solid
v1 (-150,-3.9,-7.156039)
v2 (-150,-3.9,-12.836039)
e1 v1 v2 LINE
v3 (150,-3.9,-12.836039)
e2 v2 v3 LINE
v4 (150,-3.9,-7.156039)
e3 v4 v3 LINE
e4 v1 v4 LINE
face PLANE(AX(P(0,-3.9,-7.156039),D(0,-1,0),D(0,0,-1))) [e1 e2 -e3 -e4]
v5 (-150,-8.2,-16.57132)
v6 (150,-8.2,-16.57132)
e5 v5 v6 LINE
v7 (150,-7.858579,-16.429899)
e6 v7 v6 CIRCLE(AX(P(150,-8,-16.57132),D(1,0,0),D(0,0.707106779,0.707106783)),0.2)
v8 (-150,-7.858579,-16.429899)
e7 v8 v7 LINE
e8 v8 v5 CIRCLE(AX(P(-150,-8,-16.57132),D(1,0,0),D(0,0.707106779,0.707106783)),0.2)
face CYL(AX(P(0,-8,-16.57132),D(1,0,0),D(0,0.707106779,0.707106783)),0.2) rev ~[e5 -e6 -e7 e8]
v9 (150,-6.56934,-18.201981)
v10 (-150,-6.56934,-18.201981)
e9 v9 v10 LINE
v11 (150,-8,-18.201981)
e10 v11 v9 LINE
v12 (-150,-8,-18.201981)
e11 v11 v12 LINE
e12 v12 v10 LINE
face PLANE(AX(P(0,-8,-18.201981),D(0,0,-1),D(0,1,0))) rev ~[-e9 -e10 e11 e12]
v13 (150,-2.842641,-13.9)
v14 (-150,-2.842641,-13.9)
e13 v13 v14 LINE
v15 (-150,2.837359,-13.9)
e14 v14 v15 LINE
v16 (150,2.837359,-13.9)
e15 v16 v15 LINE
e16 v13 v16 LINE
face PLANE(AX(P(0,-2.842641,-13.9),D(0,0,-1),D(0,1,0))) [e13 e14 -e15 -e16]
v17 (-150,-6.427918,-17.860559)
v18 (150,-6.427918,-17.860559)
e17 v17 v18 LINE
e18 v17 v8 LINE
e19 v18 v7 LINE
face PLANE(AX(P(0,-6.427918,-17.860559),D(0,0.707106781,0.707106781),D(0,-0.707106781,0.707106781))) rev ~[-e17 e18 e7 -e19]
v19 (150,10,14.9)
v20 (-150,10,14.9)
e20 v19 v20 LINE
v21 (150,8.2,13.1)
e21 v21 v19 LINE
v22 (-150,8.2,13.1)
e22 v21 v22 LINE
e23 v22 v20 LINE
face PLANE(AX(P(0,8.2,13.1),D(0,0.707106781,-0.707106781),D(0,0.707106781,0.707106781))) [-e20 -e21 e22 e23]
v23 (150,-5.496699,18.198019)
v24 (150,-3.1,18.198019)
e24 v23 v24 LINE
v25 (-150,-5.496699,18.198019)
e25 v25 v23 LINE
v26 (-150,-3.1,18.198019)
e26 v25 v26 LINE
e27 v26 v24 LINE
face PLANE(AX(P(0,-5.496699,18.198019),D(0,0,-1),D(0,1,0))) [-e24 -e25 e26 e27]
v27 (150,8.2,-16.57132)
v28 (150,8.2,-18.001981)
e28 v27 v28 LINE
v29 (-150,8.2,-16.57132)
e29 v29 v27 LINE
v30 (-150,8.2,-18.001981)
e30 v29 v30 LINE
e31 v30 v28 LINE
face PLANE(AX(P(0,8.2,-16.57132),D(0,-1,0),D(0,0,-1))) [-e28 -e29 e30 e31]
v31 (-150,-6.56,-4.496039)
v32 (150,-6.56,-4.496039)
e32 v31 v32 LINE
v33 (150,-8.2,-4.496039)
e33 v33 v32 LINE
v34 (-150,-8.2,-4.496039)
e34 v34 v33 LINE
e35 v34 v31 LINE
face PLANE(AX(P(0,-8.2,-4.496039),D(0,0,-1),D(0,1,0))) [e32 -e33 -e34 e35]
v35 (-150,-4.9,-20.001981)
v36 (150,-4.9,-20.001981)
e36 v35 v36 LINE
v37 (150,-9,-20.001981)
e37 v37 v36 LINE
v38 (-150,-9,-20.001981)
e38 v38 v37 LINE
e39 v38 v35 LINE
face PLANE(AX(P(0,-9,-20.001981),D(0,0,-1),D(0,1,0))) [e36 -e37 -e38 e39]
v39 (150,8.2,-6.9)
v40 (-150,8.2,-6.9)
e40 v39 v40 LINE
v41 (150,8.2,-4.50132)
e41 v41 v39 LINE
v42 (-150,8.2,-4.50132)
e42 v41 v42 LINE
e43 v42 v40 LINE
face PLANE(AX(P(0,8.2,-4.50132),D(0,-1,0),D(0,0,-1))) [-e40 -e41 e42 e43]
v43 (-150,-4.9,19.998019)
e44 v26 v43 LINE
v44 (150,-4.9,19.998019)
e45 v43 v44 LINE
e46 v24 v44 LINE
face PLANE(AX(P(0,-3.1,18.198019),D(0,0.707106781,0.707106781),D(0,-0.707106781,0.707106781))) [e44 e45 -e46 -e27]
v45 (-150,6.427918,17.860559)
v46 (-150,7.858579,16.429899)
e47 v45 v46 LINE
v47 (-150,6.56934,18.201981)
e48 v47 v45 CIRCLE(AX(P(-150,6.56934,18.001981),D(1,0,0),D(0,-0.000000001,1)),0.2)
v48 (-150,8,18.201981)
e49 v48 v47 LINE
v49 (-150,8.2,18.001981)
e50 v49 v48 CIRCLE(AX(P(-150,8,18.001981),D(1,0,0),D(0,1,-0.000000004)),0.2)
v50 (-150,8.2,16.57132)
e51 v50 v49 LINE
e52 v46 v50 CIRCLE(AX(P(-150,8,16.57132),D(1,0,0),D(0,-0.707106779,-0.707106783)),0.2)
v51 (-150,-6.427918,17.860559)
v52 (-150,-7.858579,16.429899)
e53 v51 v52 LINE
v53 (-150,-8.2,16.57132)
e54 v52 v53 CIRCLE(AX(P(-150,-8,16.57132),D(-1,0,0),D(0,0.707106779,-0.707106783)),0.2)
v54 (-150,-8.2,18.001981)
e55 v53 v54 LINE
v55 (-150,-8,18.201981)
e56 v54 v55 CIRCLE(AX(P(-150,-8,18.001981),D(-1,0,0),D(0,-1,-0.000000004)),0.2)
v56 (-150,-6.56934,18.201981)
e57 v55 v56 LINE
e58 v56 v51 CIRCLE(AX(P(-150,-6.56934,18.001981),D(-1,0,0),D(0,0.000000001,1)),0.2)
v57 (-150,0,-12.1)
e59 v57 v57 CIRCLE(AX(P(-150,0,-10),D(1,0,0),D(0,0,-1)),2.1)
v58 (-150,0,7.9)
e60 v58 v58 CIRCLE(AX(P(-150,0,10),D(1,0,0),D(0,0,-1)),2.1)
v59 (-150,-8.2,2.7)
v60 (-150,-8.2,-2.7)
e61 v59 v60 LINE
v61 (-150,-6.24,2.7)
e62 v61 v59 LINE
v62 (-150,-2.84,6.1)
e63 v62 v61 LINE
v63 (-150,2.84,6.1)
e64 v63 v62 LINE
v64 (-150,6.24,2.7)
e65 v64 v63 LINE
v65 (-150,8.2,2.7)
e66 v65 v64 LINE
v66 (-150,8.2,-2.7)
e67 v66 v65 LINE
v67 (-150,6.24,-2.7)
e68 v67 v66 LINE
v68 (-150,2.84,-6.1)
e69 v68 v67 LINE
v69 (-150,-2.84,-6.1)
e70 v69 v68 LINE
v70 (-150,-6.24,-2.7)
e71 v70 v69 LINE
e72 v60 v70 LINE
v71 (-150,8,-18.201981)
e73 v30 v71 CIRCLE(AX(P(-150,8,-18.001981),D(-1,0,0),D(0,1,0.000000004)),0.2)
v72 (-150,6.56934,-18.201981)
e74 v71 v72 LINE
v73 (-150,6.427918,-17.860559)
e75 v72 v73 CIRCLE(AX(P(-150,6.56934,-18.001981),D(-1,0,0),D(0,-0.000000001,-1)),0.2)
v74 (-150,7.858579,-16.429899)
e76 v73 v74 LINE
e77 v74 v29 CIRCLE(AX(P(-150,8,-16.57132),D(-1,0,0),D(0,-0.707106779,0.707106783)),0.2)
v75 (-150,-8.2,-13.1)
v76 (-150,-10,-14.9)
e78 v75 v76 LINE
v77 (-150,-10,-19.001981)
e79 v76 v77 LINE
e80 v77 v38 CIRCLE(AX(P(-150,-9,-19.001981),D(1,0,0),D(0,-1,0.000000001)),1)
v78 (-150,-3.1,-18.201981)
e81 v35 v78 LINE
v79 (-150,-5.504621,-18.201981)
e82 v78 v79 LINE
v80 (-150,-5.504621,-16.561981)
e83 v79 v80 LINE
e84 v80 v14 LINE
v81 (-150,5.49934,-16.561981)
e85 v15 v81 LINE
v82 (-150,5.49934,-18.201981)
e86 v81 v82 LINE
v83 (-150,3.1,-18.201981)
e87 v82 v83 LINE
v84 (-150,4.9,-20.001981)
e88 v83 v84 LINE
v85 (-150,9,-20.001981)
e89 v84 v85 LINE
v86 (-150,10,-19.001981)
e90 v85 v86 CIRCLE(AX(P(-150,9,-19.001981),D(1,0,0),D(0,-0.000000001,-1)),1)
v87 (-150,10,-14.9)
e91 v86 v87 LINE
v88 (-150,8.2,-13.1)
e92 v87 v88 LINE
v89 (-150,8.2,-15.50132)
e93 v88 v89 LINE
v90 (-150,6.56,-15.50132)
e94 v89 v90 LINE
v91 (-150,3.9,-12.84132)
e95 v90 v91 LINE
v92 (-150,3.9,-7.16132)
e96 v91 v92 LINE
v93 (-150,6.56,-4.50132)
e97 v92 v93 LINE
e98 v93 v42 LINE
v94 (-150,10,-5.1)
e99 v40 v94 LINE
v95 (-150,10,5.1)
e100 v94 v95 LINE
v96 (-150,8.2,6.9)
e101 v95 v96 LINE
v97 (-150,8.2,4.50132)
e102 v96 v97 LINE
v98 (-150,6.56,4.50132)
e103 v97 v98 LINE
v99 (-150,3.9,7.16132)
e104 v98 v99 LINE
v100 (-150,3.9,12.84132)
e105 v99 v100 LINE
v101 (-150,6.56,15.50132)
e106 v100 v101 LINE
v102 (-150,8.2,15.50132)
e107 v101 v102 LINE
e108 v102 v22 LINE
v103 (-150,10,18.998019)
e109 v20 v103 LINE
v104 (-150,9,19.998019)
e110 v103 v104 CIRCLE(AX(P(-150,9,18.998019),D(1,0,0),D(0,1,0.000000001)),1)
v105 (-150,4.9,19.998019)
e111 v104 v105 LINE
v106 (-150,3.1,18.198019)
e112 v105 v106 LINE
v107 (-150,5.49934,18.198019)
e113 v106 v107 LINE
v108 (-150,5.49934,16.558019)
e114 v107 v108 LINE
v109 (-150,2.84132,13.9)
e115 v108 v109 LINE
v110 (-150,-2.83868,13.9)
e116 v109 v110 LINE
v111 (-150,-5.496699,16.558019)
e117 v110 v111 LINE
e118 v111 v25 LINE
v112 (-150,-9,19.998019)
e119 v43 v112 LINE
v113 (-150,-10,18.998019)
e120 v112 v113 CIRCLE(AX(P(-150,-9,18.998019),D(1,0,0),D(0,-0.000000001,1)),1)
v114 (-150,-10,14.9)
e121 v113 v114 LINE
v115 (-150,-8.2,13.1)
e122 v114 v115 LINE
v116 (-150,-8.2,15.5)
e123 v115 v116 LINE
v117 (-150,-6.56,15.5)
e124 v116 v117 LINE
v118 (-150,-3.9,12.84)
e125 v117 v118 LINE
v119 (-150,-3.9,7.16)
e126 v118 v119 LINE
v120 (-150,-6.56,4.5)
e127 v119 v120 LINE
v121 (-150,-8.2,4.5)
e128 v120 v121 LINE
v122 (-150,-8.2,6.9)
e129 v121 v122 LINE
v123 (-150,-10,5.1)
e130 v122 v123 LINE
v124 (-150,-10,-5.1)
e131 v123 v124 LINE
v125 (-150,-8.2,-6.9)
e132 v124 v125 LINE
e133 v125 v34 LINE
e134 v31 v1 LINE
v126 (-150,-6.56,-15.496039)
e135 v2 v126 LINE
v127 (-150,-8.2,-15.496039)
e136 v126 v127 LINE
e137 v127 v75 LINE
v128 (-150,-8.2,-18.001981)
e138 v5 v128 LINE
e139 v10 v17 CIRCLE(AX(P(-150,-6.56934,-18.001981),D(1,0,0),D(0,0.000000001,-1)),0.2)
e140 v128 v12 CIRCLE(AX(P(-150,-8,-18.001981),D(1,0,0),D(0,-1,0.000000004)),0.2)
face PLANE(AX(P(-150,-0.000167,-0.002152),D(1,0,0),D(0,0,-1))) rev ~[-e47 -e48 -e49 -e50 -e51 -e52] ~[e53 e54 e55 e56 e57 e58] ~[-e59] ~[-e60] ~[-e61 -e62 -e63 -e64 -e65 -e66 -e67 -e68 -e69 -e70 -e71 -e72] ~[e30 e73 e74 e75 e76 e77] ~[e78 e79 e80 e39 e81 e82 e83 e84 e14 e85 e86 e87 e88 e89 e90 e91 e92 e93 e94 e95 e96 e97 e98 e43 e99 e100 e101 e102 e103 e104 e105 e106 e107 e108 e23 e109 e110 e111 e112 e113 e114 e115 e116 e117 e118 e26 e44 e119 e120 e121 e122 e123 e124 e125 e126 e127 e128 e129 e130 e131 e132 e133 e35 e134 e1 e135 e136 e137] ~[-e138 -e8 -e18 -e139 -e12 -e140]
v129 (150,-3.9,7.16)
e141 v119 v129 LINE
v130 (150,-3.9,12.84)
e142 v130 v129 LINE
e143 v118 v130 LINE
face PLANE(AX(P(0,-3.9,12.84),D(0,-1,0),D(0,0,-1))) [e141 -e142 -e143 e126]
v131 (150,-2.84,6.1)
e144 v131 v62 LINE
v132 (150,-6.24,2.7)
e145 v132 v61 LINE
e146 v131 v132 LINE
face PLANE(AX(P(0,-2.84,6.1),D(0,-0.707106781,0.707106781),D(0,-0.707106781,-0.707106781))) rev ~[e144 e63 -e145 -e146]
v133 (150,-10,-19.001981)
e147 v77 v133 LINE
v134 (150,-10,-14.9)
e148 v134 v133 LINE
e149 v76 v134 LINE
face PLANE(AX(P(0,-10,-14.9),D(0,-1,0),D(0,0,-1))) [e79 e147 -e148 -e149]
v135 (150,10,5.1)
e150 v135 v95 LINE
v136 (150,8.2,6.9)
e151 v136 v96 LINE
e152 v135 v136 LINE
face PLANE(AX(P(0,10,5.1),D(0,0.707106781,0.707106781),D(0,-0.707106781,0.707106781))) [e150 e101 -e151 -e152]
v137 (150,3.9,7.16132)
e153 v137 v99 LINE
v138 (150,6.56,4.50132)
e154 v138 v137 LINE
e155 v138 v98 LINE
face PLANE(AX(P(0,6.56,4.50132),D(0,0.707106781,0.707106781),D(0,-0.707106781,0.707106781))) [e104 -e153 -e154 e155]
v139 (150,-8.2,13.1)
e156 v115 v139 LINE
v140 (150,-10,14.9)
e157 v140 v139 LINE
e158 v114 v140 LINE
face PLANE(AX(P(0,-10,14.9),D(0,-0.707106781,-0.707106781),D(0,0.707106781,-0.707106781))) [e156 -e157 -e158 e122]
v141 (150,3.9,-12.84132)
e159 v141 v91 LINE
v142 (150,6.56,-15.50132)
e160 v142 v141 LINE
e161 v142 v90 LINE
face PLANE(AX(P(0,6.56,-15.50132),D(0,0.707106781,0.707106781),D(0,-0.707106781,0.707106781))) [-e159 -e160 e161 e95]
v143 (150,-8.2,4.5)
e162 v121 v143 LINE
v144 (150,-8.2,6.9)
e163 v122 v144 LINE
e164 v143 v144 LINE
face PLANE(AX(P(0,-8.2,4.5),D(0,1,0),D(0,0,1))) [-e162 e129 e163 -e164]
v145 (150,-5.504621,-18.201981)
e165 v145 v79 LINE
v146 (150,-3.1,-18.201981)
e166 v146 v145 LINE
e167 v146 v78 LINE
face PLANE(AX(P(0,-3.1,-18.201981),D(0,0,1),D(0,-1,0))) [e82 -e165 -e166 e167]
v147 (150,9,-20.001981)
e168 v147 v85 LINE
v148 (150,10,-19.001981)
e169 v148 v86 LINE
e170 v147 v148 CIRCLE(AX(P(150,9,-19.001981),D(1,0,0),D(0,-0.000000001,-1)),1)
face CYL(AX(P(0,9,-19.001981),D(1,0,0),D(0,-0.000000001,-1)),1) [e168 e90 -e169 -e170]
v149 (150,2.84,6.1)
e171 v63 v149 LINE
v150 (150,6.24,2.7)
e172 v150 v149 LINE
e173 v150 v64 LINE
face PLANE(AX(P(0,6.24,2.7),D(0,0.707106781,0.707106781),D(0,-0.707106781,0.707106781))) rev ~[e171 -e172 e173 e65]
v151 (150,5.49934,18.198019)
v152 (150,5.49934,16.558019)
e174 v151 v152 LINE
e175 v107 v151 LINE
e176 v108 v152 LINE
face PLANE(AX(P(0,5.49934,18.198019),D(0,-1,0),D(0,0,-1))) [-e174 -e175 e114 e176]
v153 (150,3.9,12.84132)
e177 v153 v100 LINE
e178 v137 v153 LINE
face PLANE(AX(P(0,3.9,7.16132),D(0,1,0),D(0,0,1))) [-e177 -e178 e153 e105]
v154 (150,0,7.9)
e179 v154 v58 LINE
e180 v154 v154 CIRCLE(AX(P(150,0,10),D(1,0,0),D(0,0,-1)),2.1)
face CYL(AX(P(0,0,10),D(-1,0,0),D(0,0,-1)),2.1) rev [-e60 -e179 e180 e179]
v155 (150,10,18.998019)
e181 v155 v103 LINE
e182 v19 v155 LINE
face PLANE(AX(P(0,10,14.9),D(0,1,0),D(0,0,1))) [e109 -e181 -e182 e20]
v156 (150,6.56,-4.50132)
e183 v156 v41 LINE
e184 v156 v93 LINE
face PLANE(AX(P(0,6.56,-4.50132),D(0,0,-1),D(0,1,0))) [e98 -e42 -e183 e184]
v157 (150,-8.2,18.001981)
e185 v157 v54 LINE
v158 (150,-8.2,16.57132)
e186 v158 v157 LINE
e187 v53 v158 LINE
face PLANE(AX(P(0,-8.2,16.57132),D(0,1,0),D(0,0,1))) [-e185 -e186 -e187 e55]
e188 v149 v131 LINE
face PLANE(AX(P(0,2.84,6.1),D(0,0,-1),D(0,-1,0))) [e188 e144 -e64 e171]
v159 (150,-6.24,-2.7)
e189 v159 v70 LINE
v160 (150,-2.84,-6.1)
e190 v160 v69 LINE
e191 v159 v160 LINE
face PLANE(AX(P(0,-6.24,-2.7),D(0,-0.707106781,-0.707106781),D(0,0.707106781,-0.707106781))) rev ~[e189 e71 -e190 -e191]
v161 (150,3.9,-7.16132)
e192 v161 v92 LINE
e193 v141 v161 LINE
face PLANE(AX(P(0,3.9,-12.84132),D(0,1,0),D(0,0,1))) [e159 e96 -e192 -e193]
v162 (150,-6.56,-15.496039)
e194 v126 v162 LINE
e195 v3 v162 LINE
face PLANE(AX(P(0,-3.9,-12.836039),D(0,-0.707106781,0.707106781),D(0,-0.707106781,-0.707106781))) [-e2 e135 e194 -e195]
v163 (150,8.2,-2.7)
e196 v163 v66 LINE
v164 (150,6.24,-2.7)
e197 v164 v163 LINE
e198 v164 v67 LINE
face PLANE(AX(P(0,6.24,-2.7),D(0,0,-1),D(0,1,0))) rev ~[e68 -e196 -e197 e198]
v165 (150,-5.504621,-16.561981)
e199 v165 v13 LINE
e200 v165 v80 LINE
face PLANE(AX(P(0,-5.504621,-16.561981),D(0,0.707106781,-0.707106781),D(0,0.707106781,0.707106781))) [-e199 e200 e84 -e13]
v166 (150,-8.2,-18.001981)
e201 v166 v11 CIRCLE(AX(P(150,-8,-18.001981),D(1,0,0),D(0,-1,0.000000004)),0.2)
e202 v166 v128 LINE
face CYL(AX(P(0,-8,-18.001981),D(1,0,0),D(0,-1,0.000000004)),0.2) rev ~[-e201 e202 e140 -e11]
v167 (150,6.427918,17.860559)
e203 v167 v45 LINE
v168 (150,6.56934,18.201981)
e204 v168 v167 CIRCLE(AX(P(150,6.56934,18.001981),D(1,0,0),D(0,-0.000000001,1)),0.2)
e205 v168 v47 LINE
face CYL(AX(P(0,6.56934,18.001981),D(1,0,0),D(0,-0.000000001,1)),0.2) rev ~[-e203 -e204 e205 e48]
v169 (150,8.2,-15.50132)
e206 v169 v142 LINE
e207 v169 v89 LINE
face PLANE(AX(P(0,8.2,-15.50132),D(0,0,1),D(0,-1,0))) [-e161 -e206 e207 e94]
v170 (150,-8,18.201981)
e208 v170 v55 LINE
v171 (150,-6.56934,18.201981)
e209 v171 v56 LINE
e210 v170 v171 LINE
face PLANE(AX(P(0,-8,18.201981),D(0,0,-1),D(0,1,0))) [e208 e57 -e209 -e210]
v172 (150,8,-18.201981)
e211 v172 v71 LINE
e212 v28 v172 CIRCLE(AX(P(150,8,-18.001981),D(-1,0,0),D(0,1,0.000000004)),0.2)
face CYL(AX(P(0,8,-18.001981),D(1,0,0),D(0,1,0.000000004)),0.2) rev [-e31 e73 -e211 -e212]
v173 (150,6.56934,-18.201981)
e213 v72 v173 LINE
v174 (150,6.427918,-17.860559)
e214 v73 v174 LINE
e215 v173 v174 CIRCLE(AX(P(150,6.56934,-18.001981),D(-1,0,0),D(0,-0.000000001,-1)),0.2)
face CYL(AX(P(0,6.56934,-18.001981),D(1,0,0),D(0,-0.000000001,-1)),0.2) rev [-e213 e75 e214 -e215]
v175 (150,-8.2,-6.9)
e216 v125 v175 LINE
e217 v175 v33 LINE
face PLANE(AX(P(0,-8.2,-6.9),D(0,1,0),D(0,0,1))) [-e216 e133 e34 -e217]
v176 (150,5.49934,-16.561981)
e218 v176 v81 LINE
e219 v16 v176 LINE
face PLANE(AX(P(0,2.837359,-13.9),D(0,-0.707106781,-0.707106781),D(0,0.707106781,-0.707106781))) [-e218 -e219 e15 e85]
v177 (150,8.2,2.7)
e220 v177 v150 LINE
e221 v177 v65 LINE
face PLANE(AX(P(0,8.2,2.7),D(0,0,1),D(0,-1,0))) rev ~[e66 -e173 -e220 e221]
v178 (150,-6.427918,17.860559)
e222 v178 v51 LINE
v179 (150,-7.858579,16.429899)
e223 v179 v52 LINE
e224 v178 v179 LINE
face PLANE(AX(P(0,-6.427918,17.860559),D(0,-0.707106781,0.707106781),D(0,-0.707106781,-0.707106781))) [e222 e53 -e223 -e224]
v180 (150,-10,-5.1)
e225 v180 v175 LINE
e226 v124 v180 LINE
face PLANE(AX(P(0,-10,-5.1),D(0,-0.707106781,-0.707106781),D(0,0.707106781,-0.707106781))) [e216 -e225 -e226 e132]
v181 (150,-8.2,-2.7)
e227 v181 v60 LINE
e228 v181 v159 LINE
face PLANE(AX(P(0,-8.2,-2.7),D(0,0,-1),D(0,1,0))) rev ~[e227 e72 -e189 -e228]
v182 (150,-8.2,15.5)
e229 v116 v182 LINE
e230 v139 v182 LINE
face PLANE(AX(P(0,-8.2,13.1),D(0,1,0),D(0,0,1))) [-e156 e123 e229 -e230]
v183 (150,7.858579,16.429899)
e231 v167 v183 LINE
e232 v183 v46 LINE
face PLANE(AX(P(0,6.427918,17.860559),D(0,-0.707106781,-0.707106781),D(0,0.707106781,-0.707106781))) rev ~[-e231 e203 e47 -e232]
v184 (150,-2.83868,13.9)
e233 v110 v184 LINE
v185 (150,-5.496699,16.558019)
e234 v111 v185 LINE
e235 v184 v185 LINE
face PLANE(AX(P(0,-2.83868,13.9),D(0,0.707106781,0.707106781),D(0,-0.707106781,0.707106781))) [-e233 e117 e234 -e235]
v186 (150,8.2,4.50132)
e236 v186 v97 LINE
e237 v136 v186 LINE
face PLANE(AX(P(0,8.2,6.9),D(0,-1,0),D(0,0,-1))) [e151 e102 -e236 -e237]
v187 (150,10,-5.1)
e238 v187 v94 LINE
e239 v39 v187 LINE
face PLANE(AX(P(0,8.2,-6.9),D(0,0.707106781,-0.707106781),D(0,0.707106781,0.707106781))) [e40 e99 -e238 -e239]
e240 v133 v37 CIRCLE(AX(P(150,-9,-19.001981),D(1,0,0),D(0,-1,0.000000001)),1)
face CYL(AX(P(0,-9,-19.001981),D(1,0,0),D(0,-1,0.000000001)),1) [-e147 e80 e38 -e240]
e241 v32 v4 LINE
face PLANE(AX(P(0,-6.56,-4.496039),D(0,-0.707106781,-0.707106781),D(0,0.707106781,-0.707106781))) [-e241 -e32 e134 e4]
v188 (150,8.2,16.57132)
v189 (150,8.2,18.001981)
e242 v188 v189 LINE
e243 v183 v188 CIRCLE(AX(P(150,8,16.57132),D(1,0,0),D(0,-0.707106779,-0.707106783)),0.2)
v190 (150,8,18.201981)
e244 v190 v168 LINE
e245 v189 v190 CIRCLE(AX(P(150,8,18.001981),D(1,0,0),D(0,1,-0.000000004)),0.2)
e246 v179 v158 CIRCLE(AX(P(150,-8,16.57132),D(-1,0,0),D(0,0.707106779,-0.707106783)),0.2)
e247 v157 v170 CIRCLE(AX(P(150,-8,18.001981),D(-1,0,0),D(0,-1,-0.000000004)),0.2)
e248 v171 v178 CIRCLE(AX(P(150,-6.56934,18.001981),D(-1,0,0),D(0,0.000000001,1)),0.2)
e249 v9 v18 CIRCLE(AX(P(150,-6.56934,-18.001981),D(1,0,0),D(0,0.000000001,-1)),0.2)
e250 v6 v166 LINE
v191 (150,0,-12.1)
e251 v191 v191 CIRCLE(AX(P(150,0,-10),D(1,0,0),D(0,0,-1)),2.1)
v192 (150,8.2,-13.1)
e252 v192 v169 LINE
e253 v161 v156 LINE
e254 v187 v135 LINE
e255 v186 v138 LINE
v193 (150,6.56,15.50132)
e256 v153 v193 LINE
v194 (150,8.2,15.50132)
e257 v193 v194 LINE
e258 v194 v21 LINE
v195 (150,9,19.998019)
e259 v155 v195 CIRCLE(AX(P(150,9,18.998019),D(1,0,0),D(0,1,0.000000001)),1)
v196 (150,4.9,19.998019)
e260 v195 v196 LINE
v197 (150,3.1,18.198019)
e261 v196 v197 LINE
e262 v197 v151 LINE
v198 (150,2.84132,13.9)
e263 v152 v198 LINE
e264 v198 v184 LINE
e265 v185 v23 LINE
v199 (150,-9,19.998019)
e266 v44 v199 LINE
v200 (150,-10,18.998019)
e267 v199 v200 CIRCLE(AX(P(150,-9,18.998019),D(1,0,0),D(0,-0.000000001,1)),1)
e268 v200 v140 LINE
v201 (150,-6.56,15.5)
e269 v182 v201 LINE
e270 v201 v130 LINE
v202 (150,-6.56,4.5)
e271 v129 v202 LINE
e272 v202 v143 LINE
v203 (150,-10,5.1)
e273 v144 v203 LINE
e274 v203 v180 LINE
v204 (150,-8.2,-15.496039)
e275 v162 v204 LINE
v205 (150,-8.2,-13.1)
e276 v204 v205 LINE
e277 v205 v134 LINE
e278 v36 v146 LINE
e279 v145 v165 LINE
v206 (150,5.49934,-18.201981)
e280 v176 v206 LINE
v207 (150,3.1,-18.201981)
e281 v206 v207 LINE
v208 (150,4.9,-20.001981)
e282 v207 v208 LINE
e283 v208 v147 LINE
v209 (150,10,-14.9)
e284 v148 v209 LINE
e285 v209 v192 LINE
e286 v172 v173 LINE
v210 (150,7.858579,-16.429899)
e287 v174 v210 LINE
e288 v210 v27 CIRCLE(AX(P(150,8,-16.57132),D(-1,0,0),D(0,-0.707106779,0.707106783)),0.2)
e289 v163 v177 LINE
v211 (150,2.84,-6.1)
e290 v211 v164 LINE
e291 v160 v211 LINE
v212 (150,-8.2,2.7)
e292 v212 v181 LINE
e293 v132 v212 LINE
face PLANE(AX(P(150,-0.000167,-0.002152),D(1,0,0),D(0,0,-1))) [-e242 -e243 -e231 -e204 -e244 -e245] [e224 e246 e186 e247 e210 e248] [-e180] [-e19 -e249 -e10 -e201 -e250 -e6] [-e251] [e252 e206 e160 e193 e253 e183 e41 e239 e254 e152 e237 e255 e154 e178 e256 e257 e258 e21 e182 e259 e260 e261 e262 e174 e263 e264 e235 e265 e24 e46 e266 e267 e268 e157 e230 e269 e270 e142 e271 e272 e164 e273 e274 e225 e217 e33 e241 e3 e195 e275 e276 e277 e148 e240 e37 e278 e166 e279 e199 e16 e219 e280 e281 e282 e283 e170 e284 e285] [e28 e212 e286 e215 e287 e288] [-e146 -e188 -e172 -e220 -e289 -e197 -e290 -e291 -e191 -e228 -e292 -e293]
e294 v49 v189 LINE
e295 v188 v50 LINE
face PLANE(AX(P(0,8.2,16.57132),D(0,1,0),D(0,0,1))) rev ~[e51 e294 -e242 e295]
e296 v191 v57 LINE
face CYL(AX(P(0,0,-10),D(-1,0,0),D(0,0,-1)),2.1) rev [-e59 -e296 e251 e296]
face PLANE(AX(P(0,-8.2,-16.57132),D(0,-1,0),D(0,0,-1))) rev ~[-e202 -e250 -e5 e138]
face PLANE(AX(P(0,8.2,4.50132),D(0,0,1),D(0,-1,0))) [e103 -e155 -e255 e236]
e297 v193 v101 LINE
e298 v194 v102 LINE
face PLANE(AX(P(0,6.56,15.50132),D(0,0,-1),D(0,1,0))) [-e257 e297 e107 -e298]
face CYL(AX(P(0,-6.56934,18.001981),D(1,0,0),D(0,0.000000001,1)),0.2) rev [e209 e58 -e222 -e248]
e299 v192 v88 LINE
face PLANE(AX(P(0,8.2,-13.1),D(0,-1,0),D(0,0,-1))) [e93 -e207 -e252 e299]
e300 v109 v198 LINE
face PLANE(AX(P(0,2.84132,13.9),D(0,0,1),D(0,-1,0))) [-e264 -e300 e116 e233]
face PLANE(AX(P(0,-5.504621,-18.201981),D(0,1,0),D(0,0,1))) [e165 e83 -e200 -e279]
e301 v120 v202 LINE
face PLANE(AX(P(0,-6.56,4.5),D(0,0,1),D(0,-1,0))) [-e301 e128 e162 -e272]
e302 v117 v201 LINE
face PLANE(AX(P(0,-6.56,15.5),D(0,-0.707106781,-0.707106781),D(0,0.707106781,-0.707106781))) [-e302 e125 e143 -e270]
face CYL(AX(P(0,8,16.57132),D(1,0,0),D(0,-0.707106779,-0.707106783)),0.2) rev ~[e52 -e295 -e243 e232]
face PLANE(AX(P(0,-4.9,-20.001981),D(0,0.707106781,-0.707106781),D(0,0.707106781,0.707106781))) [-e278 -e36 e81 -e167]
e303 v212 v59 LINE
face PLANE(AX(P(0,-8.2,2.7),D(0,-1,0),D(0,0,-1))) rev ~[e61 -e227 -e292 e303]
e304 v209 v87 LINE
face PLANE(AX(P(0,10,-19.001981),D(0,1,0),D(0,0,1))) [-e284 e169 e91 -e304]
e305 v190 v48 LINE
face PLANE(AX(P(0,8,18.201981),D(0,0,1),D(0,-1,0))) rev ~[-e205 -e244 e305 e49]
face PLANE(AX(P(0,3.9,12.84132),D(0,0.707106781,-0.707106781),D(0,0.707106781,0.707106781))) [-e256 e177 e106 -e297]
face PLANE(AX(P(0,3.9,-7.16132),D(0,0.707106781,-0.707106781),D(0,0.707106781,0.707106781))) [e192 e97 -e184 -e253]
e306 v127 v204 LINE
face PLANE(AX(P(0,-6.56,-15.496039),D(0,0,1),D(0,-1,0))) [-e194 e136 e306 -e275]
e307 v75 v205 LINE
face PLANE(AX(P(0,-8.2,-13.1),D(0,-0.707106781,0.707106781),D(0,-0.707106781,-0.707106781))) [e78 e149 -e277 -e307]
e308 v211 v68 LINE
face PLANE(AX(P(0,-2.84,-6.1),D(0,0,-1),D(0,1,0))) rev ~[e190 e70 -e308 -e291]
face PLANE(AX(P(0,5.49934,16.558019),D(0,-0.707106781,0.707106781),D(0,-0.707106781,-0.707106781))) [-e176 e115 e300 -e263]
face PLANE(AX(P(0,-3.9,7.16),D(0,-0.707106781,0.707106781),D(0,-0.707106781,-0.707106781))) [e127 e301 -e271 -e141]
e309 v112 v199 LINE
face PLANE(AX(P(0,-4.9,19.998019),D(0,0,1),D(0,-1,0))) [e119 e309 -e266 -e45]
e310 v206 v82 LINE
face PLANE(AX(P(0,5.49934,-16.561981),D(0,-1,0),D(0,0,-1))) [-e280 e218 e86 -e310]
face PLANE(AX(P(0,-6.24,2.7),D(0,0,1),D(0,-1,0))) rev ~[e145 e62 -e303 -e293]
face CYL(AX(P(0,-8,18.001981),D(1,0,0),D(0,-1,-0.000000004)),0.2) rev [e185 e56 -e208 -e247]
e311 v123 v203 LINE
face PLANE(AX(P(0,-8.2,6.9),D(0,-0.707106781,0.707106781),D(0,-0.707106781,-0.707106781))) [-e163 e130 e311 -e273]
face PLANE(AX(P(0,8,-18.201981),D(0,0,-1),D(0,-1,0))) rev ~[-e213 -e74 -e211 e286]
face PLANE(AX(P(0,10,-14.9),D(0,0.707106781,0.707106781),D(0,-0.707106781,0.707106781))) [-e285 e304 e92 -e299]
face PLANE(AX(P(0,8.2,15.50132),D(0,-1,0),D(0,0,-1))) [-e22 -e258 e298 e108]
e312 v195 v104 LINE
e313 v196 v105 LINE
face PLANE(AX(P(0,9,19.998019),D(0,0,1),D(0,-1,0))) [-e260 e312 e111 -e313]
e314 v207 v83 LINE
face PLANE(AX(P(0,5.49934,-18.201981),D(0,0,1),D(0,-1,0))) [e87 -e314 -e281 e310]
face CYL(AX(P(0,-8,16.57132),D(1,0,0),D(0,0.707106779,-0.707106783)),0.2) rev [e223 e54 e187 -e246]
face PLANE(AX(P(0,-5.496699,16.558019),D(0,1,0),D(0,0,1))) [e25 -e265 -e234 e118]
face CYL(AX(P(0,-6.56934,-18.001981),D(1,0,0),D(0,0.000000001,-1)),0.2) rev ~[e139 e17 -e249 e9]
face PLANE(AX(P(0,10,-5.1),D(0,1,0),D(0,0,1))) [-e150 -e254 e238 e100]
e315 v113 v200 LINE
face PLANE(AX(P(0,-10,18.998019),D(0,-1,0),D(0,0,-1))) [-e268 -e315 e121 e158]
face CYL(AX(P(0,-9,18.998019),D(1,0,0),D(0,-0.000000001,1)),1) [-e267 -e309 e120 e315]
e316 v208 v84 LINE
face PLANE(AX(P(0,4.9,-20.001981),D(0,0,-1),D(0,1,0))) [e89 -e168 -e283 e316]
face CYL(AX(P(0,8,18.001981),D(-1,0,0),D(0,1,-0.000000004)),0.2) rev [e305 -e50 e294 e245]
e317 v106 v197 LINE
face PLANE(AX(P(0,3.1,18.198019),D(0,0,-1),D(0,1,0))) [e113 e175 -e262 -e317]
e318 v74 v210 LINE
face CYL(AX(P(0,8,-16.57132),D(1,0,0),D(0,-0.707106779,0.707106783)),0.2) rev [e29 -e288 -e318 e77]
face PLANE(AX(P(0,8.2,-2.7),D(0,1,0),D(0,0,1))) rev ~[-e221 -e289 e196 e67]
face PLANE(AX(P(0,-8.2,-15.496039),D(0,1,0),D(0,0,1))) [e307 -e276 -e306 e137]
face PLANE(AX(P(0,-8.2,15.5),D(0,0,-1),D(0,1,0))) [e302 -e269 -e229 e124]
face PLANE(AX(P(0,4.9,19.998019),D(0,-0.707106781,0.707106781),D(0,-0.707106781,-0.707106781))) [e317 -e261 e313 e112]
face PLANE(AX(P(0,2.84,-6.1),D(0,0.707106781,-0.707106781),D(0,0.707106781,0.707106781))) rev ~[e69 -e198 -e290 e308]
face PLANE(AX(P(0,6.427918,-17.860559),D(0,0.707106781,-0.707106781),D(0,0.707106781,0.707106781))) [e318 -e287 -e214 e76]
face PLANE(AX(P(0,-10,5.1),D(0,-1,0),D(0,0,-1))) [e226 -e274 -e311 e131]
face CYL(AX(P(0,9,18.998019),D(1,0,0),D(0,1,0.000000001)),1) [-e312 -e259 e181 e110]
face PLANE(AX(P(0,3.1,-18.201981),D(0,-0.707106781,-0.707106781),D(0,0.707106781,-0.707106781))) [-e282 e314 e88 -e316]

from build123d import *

# Parameters (mm, degrees)
SKETCH5_R           = 2.1
BOSS_EXTRUDE1_DEPTH = 150


with BuildPart() as part:
    # Sketch5 → Boss-Extrude1 (new body, symmetric)
    with BuildSketch(Plane(origin=(0, 0, 0), x_dir=(0, 0, -1), z_dir=(1, 0, 0))):
        with BuildLine():
            Line((-19.998019485, 4.9), (-18.198019485, 3.1))
            Line((-18.198019485, 3.1), (-18.198019485, 5.499339828))
            Line((-18.198019485, 5.499339828), (-16.558019485, 5.499339828))
            Line((-16.558019485, 5.499339828), (-13.9, 2.841320344))
            Line((-13.9, 2.841320344), (-13.9, -2.838679656))
            Line((-13.9, -2.838679656), (-16.558019485, -5.496699141))
            Line((-16.558019485, -5.496699141), (-18.198019485, -5.496699141))
            Line((-18.198019485, -5.496699141), (-18.198019485, -3.1))
            Line((-18.198019485, -3.1), (-19.998019485, -4.9))
            Line((-19.998019485, -4.9), (-19.998019485, -9))
            ThreePointArc((-19.998019485, -9), (-19.705126266, -9.707106781), (-18.998019485, -10))
            Line((-18.998019485, -10), (-14.9, -10))
            Line((-14.9, -10), (-13.1, -8.2))
            Line((-13.1, -8.2), (-15.5, -8.2))
            Line((-15.5, -8.2), (-15.5, -6.56))
            Line((-15.5, -6.56), (-12.84, -3.9))
            Line((-12.84, -3.9), (-7.16, -3.9))
            Line((-7.16, -3.9), (-4.5, -6.56))
            Line((-4.5, -6.56), (-4.5, -8.2))
            Line((-4.5, -8.2), (-6.9, -8.2))
            Line((-6.9, -8.2), (-5.1, -10))
            Line((-5.1, -10), (5.1, -10))
            Line((5.1, -10), (6.9, -8.2))
            Line((6.9, -8.2), (4.496038969, -8.2))
            Line((4.496038969, -8.2), (4.496038969, -6.56))
            Line((4.496038969, -6.56), (7.156038969, -3.9))
            Line((7.156038969, -3.9), (12.836038969, -3.9))
            Line((12.836038969, -3.9), (15.496038969, -6.56))
            Line((15.496038969, -6.56), (15.496038969, -8.2))
            Line((15.496038969, -8.2), (13.1, -8.2))
            Line((13.1, -8.2), (14.9, -10))
            Line((14.9, -10), (19.001980515, -10))
            ThreePointArc((19.001980515, -10), (19.709087297, -9.707106781), (20.001980515, -9))
            Line((20.001980515, -9), (20.001980515, -4.9))
            Line((20.001980515, -4.9), (18.201980515, -3.1))
            Line((18.201980515, -3.1), (18.201980515, -5.504621202))
            Line((18.201980515, -5.504621202), (16.561980515, -5.504621202))
            Line((16.561980515, -5.504621202), (13.9, -2.842640687))
            Line((13.9, -2.842640687), (13.9, 2.837359313))
            Line((13.9, 2.837359313), (16.561980515, 5.499339828))
            Line((16.561980515, 5.499339828), (18.201980515, 5.499339828))
            Line((18.201980515, 5.499339828), (18.201980515, 3.1))
            Line((18.201980515, 3.1), (20.001980515, 4.9))
            Line((20.001980515, 4.9), (20.001980515, 9))
            ThreePointArc((20.001980515, 9), (19.709087297, 9.707106781), (19.001980515, 10))
            Line((19.001980515, 10), (14.9, 10))
            Line((14.9, 10), (13.1, 8.2))
            Line((13.1, 8.2), (15.501320344, 8.2))
            Line((15.501320344, 8.2), (15.501320344, 6.56))
            Line((15.501320344, 6.56), (12.841320344, 3.9))
            Line((12.841320344, 3.9), (7.161320344, 3.9))
            Line((7.161320344, 3.9), (4.501320344, 6.56))
            Line((4.501320344, 6.56), (4.501320344, 8.2))
            Line((4.501320344, 8.2), (6.9, 8.2))
            Line((6.9, 8.2), (5.1, 10))
            Line((5.1, 10), (-5.1, 10))
            Line((-5.1, 10), (-6.9, 8.2))
            Line((-6.9, 8.2), (-4.501320344, 8.2))
            Line((-4.501320344, 8.2), (-4.501320344, 6.56))
            Line((-4.501320344, 6.56), (-7.161320344, 3.9))
            Line((-7.161320344, 3.9), (-12.841320344, 3.9))
            Line((-12.841320344, 3.9), (-15.501320344, 6.56))
            Line((-15.501320344, 6.56), (-15.501320344, 8.2))
            Line((-15.501320344, 8.2), (-13.1, 8.2))
            Line((-13.1, 8.2), (-14.9, 10))
            Line((-14.9, 10), (-18.998019485, 10))
            ThreePointArc((-18.998019485, 10), (-19.705126266, 9.707106781), (-19.998019485, 9))
            Line((-19.998019485, 9), (-19.998019485, 4.9))
        make_face()
        with Locations((-10, 0)):
            Circle(SKETCH5_R, mode=Mode.SUBTRACT)
        with Locations((10, 0)):
            Circle(SKETCH5_R, mode=Mode.SUBTRACT)
        Polygon((6.1, -2.84), (6.1, 2.84), (2.7, 6.24), (2.7, 8.2), (-2.7, 8.2), (-2.7, 6.24), (-6.1, 2.84), (-6.1, -2.84), (-2.7, -6.24), (-2.7, -8.2), (2.7, -8.2), (2.7, -6.24), align=None, mode=Mode.SUBTRACT)
        with BuildLine():
            Line((16.571320344, 8.2), (18.001980515, 8.2))
            ThreePointArc((18.001980515, 8.2), (18.143401872, 8.141421356), (18.201980515, 8))
            Line((18.201980515, 8), (18.201980515, 6.569339828))
            ThreePointArc((18.201980515, 6.569339828), (18.078517202, 6.384563922), (17.860559159, 6.427918472))
            Line((17.860559159, 6.427918472), (16.429898987, 7.858578644))
            ThreePointArc((16.429898987, 7.858578644), (16.386544437, 8.076536686), (16.571320344, 8.2))
        make_face(mode=Mode.SUBTRACT)
        with BuildLine():
            Line((16.571320344, -8.2), (18.001980515, -8.2))
            ThreePointArc((18.001980515, -8.2), (18.143401872, -8.141421356), (18.201980515, -8))
            Line((18.201980515, -8), (18.201980515, -6.569339828))
            ThreePointArc((18.201980515, -6.569339828), (18.078517202, -6.384563922), (17.860559159, -6.427918472))
            Line((17.860559159, -6.427918472), (16.429898987, -7.858578644))
            ThreePointArc((16.429898987, -7.858578644), (16.386544437, -8.076536686), (16.571320344, -8.2))
        make_face(mode=Mode.SUBTRACT)
        with BuildLine():
            Line((-17.860559159, 6.427918472), (-16.429898987, 7.858578644))
            ThreePointArc((-16.429898987, 7.858578644), (-16.386544437, 8.076536686), (-16.571320344, 8.2))
            Line((-16.571320344, 8.2), (-18.001980515, 8.2))
            ThreePointArc((-18.001980515, 8.2), (-18.143401872, 8.141421356), (-18.201980515, 8))
            Line((-18.201980515, 8), (-18.201980515, 6.569339828))
            ThreePointArc((-18.201980515, 6.569339828), (-18.078517202, 6.384563922), (-17.860559159, 6.427918472))
        make_face(mode=Mode.SUBTRACT)
        with BuildLine():
            Line((-16.571320344, -8.2), (-18.001980515, -8.2))
            ThreePointArc((-18.001980515, -8.2), (-18.143401872, -8.141421356), (-18.201980515, -8))
            Line((-18.201980515, -8), (-18.201980515, -6.569339828))
            ThreePointArc((-18.201980515, -6.569339828), (-18.078517202, -6.384563922), (-17.860559159, -6.427918472))
            Line((-17.860559159, -6.427918472), (-16.429898987, -7.858578644))
            ThreePointArc((-16.429898987, -7.858578644), (-16.386544437, -8.076536686), (-16.571320344, -8.2))
        make_face(mode=Mode.SUBTRACT)
    extrude(amount=BOSS_EXTRUDE1_DEPTH, both=True)


solid = part.part
